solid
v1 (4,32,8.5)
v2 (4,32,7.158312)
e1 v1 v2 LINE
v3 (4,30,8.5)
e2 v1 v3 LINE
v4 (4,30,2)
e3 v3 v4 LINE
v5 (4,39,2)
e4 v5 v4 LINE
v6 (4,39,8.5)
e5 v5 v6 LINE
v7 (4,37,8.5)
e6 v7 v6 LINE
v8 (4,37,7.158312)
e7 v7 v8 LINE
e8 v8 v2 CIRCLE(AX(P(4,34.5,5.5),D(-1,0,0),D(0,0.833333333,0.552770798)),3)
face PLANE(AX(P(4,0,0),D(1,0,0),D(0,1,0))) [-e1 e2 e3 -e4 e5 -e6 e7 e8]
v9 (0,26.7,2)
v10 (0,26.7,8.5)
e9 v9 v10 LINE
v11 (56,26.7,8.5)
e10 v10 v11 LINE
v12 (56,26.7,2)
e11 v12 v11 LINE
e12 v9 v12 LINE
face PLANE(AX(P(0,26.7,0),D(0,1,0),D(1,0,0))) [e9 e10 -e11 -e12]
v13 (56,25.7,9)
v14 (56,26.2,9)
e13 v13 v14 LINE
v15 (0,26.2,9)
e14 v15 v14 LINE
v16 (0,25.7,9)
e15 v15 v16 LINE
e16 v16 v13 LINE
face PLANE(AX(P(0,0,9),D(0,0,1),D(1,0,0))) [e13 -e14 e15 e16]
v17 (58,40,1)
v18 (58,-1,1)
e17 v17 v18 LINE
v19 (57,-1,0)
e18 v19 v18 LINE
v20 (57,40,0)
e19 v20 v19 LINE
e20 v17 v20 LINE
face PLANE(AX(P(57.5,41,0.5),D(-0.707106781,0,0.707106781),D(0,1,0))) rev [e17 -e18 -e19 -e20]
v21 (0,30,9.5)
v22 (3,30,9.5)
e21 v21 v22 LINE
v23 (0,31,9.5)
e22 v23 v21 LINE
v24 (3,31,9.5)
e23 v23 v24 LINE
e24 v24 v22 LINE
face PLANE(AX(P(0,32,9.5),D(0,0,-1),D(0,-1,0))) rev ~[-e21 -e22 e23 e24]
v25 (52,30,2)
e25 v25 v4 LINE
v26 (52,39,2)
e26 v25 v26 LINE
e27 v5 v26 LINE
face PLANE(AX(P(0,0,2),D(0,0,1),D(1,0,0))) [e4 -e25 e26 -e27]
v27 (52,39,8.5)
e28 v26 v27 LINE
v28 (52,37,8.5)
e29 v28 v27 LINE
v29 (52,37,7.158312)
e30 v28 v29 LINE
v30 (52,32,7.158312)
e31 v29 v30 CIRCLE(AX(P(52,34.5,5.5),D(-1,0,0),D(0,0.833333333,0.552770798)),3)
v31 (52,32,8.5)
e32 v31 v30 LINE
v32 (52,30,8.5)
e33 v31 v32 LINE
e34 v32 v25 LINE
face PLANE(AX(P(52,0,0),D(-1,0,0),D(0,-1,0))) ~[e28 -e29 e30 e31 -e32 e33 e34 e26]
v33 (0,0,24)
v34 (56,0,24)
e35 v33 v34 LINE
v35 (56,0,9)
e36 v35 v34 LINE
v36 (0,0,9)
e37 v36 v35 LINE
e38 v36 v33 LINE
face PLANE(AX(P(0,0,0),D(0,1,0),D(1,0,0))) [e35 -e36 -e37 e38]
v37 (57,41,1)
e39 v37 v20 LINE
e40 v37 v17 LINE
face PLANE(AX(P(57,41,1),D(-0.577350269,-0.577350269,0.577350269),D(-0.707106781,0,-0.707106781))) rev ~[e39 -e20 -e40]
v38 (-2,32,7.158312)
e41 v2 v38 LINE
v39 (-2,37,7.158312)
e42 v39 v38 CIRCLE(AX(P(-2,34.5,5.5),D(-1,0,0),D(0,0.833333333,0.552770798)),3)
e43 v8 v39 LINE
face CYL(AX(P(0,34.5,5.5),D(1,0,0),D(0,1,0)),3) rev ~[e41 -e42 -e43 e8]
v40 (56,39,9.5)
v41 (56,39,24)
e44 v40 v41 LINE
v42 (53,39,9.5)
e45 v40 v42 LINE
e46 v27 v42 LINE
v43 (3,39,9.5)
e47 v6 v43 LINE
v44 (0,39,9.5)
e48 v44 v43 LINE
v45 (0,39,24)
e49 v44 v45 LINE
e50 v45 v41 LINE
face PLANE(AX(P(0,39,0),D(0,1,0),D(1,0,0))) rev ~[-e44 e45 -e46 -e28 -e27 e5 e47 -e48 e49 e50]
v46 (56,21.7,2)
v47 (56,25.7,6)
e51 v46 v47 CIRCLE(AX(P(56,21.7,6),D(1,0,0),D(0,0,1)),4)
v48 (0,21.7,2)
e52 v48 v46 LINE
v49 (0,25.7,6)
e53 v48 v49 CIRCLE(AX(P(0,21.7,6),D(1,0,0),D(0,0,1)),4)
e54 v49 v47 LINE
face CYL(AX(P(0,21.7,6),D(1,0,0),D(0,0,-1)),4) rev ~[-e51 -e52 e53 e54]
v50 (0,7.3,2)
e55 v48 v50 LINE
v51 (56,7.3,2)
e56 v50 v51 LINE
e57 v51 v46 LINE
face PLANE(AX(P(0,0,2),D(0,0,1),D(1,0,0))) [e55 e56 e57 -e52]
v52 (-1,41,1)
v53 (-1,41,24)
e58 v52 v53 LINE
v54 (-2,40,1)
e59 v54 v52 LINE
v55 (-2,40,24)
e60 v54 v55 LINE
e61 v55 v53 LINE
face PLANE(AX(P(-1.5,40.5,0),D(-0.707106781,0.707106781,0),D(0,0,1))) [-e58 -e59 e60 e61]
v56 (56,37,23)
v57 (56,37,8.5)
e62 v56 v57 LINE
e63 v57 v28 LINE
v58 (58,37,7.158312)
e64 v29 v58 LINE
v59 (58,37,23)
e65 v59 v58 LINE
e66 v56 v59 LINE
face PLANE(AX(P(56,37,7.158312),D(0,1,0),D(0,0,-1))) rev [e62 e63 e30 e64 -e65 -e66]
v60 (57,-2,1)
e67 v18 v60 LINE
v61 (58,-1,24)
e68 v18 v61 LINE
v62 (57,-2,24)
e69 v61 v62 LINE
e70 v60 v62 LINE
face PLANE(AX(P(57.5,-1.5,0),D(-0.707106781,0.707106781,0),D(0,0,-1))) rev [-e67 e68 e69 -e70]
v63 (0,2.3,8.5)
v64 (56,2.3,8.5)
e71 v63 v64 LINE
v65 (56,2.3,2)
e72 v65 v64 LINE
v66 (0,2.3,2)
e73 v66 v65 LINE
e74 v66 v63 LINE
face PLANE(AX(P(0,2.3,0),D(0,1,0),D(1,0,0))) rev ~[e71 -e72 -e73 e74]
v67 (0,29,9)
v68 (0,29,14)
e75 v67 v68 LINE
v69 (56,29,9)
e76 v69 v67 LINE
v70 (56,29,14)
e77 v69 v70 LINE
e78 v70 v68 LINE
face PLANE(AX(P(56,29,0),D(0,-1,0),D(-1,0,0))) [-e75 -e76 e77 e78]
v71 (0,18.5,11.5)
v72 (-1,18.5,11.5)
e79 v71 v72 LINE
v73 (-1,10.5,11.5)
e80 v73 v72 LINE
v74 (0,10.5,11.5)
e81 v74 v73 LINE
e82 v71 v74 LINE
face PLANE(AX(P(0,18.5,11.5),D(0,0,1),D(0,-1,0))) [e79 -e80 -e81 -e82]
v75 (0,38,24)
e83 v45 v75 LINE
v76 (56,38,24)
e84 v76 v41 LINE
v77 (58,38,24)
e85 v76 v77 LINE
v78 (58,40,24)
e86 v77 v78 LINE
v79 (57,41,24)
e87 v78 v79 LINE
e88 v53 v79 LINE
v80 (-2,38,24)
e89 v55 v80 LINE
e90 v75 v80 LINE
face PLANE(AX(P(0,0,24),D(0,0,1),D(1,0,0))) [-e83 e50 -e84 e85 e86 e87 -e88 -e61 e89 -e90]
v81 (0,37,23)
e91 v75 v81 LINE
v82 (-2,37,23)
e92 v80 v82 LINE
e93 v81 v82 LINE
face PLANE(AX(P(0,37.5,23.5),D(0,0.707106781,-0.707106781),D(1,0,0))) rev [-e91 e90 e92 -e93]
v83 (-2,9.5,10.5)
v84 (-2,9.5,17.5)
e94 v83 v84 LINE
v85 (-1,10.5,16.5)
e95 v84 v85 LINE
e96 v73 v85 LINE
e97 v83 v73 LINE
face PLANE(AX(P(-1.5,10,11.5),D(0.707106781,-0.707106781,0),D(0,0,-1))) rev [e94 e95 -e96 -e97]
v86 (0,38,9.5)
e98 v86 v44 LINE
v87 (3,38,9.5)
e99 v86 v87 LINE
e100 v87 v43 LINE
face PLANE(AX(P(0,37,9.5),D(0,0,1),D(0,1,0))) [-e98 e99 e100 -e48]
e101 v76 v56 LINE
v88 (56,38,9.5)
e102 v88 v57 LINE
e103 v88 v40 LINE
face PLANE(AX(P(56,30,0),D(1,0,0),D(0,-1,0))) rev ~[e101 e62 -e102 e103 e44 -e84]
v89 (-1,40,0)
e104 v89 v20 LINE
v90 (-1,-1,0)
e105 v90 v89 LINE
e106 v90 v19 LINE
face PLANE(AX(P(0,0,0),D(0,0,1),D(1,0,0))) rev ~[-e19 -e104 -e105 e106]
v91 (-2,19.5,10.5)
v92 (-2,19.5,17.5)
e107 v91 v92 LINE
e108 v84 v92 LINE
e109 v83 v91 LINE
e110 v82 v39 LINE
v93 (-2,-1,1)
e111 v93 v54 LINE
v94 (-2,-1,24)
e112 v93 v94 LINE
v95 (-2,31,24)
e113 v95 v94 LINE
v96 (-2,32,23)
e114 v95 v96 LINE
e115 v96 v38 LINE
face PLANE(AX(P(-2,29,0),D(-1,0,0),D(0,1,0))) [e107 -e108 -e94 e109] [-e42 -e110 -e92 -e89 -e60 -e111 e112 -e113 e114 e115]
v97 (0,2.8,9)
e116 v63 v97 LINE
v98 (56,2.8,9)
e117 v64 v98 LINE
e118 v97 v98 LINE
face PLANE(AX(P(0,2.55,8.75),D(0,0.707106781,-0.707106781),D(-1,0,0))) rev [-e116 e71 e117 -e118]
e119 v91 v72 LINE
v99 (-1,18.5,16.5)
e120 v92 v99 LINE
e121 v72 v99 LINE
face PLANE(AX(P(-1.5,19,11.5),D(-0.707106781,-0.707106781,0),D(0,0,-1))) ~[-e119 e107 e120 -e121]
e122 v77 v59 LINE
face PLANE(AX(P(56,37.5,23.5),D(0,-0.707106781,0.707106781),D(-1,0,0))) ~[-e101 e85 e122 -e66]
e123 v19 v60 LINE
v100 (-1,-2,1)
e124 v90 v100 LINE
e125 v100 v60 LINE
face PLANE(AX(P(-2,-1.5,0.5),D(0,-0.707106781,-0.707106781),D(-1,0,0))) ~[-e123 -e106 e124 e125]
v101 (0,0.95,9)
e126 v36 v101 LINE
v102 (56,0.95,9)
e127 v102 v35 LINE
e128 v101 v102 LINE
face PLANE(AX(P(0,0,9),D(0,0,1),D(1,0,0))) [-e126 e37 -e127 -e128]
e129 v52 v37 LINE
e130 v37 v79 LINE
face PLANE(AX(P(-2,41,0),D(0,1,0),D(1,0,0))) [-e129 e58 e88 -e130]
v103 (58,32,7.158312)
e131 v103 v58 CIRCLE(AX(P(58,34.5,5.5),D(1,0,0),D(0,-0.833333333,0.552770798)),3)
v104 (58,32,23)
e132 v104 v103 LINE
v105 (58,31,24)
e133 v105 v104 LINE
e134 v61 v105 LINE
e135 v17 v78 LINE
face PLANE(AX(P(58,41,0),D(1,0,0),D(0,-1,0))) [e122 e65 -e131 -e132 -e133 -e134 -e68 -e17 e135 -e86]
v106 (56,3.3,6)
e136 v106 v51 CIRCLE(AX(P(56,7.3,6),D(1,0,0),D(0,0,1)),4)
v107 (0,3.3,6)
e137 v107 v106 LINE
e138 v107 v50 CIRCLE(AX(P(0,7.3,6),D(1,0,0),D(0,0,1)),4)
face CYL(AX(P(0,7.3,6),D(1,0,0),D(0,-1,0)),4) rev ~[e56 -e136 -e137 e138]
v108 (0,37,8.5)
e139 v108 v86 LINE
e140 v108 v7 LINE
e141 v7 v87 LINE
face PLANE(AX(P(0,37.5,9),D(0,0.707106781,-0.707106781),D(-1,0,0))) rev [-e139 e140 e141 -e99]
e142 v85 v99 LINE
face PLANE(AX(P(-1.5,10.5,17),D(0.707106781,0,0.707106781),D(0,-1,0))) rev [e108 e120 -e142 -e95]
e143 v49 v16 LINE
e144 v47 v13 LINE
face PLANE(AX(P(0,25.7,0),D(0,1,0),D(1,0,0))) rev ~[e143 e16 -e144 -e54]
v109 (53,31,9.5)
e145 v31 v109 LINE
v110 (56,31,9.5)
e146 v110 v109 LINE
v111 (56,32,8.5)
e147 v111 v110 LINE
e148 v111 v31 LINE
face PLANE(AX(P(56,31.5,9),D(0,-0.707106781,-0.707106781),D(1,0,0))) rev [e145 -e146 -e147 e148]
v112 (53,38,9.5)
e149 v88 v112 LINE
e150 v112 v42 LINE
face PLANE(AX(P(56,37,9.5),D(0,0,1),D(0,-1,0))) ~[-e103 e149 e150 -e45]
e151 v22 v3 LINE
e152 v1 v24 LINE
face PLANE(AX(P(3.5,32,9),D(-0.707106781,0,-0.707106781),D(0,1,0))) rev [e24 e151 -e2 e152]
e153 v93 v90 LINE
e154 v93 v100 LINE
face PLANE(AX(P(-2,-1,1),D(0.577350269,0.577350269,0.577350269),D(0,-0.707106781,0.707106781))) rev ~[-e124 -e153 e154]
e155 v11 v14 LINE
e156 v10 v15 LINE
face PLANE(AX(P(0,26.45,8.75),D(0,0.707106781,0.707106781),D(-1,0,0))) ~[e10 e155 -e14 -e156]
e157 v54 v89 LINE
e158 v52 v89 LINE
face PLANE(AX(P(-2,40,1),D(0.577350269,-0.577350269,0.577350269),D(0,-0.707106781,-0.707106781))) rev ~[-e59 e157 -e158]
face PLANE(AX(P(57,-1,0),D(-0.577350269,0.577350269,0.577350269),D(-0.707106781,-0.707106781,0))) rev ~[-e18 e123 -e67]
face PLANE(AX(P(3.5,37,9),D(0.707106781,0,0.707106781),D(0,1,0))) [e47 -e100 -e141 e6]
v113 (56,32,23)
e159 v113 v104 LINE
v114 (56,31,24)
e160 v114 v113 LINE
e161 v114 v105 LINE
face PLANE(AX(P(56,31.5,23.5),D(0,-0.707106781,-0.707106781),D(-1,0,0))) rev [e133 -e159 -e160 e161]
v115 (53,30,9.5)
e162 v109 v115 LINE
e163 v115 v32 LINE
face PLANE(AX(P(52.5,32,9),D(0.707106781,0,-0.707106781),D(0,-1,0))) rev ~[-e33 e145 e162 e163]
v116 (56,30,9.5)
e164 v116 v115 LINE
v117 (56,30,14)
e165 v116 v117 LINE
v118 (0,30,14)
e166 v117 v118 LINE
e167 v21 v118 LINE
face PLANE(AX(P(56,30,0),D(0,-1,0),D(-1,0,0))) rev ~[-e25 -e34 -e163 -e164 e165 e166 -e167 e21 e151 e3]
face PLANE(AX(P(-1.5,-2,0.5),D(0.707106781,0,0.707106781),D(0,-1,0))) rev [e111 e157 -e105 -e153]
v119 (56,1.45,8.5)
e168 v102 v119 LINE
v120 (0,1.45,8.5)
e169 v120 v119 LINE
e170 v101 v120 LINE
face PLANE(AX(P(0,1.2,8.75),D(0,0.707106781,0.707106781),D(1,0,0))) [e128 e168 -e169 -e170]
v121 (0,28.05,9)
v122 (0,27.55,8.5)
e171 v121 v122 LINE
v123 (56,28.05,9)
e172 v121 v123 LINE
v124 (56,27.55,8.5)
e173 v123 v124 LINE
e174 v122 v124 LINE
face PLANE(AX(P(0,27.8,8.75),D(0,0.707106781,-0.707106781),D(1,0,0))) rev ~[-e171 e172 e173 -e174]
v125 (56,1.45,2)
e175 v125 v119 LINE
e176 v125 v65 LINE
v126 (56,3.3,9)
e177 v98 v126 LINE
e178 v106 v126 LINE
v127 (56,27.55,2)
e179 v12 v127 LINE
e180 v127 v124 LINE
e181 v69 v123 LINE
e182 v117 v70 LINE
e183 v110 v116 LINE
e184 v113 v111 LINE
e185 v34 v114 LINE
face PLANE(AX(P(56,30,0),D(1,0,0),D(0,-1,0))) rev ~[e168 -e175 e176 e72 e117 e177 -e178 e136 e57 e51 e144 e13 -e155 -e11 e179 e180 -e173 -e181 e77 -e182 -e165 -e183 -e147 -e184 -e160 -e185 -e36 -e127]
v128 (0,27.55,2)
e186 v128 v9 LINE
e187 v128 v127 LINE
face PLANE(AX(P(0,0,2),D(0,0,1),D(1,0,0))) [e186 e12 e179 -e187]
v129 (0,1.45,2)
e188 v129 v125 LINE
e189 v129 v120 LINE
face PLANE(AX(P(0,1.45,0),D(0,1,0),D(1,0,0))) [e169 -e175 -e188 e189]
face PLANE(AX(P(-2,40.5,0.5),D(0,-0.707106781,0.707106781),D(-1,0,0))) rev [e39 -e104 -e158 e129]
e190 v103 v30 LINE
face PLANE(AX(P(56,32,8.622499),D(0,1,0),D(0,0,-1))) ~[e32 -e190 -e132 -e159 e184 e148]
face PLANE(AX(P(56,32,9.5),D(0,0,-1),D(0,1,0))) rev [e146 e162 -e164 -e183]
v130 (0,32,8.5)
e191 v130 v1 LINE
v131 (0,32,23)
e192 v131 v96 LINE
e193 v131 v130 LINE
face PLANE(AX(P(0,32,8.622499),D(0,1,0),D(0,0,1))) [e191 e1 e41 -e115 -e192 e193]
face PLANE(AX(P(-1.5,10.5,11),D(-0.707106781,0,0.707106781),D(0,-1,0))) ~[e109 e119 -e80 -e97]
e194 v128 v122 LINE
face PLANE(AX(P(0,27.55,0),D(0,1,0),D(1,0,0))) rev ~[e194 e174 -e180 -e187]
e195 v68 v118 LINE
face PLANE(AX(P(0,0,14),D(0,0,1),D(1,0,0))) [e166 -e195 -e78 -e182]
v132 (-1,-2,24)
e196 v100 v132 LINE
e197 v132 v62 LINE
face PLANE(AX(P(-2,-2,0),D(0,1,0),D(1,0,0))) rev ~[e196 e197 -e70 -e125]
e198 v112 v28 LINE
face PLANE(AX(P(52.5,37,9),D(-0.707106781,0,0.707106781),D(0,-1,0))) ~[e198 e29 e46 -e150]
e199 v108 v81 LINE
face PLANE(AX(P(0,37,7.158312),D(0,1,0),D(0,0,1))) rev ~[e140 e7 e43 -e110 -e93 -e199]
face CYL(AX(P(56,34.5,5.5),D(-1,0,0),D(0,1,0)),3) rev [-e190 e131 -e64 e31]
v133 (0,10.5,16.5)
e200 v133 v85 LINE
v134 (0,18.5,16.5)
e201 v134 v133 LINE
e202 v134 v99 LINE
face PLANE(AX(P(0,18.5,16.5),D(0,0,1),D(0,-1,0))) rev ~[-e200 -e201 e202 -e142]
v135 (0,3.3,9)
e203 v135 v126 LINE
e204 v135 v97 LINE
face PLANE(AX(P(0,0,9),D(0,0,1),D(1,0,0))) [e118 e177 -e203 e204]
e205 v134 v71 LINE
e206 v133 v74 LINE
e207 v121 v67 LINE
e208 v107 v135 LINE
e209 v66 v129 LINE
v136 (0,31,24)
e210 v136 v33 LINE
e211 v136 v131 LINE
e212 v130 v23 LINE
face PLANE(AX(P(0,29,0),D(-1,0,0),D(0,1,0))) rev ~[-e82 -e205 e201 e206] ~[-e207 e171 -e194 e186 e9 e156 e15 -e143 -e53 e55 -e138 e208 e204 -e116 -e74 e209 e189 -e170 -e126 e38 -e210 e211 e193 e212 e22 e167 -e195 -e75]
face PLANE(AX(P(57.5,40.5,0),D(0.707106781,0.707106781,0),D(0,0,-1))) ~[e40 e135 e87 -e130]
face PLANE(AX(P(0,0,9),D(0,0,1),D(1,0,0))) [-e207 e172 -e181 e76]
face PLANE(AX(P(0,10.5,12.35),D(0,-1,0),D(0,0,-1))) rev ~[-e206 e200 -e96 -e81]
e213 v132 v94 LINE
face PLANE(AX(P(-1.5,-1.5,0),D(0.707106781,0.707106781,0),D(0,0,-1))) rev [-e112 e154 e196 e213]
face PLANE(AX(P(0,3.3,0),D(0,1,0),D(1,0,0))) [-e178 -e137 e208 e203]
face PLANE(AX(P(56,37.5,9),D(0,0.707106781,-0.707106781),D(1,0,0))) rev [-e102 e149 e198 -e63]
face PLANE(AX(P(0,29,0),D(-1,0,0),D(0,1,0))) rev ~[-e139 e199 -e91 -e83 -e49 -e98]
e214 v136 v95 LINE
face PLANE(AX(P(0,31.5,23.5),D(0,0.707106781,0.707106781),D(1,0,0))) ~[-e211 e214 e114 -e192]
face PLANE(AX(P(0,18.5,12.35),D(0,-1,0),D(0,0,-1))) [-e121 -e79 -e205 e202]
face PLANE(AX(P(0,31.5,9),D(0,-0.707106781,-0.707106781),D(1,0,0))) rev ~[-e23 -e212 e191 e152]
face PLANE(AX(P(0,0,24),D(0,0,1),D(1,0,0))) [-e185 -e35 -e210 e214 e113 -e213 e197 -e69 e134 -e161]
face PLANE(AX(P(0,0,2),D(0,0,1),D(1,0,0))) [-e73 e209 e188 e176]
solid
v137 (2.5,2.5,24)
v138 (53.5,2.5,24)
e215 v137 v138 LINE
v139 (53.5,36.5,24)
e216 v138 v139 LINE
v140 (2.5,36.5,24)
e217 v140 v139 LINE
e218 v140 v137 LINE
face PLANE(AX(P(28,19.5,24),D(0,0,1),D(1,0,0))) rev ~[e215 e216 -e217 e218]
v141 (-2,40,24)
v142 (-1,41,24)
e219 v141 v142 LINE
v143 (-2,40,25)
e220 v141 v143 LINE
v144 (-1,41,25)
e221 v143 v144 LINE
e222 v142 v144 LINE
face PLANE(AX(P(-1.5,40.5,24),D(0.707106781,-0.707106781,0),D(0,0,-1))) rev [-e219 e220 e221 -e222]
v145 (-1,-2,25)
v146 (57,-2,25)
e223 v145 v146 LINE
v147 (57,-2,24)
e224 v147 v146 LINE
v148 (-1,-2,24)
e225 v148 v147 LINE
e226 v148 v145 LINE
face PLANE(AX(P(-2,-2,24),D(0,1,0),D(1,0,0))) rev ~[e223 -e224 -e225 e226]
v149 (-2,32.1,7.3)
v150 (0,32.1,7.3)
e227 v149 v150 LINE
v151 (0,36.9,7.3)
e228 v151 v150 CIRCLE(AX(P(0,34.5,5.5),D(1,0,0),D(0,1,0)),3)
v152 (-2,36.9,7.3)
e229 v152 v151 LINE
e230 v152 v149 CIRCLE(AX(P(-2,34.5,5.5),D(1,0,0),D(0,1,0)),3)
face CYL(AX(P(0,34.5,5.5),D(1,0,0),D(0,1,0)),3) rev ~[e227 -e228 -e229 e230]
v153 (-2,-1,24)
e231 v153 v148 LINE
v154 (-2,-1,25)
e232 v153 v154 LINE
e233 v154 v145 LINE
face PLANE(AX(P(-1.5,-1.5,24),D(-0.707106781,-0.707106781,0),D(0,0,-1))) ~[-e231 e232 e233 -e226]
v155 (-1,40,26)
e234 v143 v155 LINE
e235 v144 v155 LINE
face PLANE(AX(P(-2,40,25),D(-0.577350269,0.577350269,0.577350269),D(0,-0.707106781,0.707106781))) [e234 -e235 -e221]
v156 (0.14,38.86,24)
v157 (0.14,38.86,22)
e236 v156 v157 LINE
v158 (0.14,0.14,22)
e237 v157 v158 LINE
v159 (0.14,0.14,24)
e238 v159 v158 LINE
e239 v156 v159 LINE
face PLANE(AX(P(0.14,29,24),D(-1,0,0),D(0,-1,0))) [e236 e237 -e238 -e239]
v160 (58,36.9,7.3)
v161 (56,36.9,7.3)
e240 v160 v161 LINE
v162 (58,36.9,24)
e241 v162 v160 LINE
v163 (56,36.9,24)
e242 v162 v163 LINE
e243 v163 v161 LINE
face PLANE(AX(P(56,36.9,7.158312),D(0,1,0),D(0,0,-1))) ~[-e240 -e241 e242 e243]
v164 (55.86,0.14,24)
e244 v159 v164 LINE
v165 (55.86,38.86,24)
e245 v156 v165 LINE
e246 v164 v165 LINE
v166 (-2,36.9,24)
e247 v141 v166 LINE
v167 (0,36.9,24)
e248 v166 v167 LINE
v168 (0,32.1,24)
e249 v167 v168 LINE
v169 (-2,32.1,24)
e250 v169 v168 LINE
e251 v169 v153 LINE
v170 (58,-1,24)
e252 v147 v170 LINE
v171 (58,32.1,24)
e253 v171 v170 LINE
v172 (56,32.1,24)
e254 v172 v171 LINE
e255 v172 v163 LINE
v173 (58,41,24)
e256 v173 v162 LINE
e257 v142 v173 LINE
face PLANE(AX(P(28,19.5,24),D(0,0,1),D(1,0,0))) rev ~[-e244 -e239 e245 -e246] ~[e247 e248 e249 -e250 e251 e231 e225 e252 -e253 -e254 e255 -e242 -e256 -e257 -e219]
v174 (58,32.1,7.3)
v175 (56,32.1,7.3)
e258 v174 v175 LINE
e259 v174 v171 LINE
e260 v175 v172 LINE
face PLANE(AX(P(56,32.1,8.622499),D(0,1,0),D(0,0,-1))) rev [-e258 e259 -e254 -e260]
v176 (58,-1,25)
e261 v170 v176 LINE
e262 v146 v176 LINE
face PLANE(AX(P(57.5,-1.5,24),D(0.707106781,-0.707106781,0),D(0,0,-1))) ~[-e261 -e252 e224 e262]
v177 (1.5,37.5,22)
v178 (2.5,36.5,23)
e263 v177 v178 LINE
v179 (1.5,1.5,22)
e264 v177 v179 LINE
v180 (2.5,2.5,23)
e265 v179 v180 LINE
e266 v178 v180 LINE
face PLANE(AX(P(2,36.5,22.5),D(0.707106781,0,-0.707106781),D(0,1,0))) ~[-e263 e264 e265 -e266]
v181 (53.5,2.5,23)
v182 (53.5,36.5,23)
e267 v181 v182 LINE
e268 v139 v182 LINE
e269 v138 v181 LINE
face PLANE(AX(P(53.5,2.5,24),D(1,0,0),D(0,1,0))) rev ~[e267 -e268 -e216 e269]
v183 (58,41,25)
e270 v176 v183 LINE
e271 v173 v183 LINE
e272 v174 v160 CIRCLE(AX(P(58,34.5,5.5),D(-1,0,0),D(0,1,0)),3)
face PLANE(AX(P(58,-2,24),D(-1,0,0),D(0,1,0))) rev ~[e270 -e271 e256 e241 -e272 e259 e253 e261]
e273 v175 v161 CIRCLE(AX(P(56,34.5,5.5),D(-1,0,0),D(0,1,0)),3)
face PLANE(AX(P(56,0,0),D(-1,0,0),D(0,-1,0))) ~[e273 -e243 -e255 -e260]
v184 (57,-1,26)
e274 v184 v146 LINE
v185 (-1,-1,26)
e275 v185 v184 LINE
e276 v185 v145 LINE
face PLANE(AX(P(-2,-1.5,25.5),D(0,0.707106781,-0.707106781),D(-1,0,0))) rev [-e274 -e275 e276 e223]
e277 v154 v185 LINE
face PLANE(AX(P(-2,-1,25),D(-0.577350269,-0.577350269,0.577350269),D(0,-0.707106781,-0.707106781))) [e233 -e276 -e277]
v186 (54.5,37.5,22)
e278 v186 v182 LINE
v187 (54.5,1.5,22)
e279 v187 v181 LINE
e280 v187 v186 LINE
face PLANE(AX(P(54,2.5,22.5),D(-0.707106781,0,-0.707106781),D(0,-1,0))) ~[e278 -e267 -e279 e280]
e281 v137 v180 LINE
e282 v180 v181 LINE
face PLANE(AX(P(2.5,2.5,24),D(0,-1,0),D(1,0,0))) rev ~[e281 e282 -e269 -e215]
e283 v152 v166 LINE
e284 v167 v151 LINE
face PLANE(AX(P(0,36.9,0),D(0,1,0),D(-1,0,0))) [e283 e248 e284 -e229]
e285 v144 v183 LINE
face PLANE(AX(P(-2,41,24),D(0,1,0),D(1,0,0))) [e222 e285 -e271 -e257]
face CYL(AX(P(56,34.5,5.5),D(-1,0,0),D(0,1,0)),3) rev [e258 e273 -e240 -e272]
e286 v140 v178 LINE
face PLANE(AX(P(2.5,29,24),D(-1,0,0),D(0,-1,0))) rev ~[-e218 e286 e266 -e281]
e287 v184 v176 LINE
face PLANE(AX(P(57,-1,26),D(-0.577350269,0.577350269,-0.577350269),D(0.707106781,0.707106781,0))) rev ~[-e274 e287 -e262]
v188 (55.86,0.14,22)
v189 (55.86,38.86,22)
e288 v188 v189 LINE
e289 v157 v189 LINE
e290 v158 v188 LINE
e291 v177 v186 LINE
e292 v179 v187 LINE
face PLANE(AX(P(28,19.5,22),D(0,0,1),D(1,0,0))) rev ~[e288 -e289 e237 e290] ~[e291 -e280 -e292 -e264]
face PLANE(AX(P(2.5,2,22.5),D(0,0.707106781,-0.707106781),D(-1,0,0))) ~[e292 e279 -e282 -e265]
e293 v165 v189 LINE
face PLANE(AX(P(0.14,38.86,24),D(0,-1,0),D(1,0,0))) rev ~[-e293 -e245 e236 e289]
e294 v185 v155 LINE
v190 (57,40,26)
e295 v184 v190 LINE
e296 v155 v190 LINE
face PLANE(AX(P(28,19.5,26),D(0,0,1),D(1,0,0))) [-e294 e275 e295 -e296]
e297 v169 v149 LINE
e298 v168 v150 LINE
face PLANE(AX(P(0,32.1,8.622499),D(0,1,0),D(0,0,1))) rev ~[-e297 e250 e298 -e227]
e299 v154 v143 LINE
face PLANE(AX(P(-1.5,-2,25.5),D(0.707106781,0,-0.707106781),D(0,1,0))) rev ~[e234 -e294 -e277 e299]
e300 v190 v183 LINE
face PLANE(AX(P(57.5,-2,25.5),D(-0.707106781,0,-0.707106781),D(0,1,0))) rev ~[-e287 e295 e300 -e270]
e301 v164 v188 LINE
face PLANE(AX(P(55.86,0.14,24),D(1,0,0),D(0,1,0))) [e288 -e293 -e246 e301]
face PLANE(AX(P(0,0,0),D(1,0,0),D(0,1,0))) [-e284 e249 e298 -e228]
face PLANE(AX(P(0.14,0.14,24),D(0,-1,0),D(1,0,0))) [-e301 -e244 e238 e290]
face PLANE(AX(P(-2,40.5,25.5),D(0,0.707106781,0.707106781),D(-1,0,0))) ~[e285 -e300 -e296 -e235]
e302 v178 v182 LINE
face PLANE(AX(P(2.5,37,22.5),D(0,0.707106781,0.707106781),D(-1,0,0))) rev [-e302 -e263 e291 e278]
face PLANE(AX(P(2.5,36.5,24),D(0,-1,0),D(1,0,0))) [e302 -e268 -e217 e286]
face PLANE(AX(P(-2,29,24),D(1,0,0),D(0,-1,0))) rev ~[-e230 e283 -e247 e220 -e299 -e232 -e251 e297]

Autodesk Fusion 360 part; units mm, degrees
sketch "Sketch1" plane through (0, 0, 0) normal (0, 0, 1) x (1, 0, 0)
  line L0 (0, 0) -> (56, 0)
  line L1 (56, 0) -> (56, 29)
  line L2 (56, 29) -> (0, 29)
  line L3 (0, 29) -> (0, 0)
  line L4 (0, 14.5) -> (56, 14.5) construction
  line L5 (0, 1.45) -> (56, 1.45)
  line L6 (0, 2.3) -> (56, 2.3)
  line L7 (0, 3.3) -> (56, 3.3)
  line L8 (0, 0.45) -> (56, 0.45)
  line L9 (0, 28.55) -> (56, 28.55)
  line L10 (0, 27.55) -> (56, 27.55)
  line L11 (0, 26.7) -> (56, 26.7)
  line L12 (0, 25.7) -> (56, 25.7)
  line L13 (56, 30) -> (0, 30)
  line L14 (56, 29) -> (0, 29)
  line L15 (0, 29) -> (0, 39)
  line L16 (0, 39) -> (56, 39)
  line L17 (56, 39) -> (56, 29)
  line L18 (-2, 29) -> (-2, 41)
  line L19 (-2, 41) -> (58, 41)
  line L20 (58, 41) -> (58, 29)
  line L21 (58, -2) -> (58, 29)
  line L22 (-2, -2) -> (58, -2)
  line L23 (-2, 29) -> (-2, -2)
  line L24 (28, 41) -> (28, -2) construction
  dimension "d1" = 56
  dimension "d2" = 29
  dimension "d3" = 13.05
  dimension "d4" = 12.2
  dimension "d5" = 11.2
  dimension "d6" = 14.05
  dimension "d7" = 1
  dimension "d8" = 10
  dimension "d9" = 2
extrude "Extrude1" add sketch "Sketch1" along normal blind 9 contours L0 L1 L3 L8 | L1 L3 L5 L8 | L1 L3 L6 L7 | L1 L3 L11 L12 | L1 L3 L9 L10 | L1 L2 L3 L9 L14 makes body 1 at (18.6667, 0, 3) makes body 2 at (18.6667, 26.7, 3) makes body 3 at (18.6667, 3.3, 3) makes body 4 at (37.3333, 29, 3)
extrude "Extrude2" add sketch "Sketch1" along normal blind 2 contours L0 L1 L3 L8 | L1 L3 L5 L6 | L1 L3 L7 L12 | L1 L3 L10 L11 | L1 L2 L3 L9 L14 | L13 L15 L16 L17 bodies 1 2 3 4 makes body 5 at (18.6667, 36, 0)
extrude "Extrude3" add sketch "Sketch1" along normal blind 24 bodies 1 5
extrude "Extrude4" add sketch "Sketch1" along normal blind 14 contours L2 L13 L14 L15 L17 bodies 1
ref_plane "WorkPlane1" through (28, 14.5, 12.35) normal (0, 0, 1) x (1, 0, 0)
sketch "Sketch2" plane through (0, 0, 0) normal (1, 0, 0) x (0, 1, 0)
  line L0 (29, 9) -> (29, 14)
  line L1 (29, 14) -> (30, 14)
  line L2 (30, 14) -> (30, 2)
  line L3 (30, 2) -> (39, 2)
  line L4 (39, 2) -> (39, 24)
  line L5 (39, 24) -> (0, 24)
  line L6 (0, 24) -> (0, 9)
  line L7 (0, 9) -> (1.45, 9)
  line L8 (1.45, 9) -> (1.45, 2)
  line L9 (1.45, 2) -> (2.3, 2)
  line L10 (2.3, 2) -> (2.3, 9)
  line L11 (2.3, 9) -> (3.3, 9)
  line L12 (3.3, 9) -> (3.3, 2)
  line L13 (3.3, 2) -> (25.7, 2)
  line L14 (25.7, 2) -> (25.7, 9)
  line L15 (25.7, 9) -> (26.7, 9)
  line L16 (26.7, 9) -> (26.7, 2)
  line L17 (26.7, 2) -> (27.55, 2)
  line L18 (27.55, 2) -> (27.55, 9)
  line L19 (27.55, 9) -> (29, 9)
  line L20 (0, 9) -> (0, 24)
  line L21 (0, 24) -> (39, 24)
  line L22 (29, 9) -> (29, 14)
  line L23 (25.7, 2) -> (3.3, 2)
  line L24 (25.7, 2) -> (25.7, 9)
  line L25 (26.7, 9) -> (25.7, 9)
  line L26 (29, 9) -> (27.55, 9)
  line L27 (1.45, 9) -> (0, 9)
  line L28 (3.3, 9) -> (2.3, 9)
  line L29 (27.94, 12.35) -> (1.06, 12.35)
  line L30 (3.3, 9) -> (25.7, 9) construction
  line L31 (14.5, 9) -> (14.5, 16.9) construction
  line L32 (14.5, 12.35) -> (10.5, 12.35) construction
  line L33 (10.5, 12.35) -> (10.5, 16.5)
  line L34 (10.5, 12.35) -> (10.5, 11.5)
  line L35 (10.5, 16.5) -> (14.5, 16.5)
  line L36 (10.5, 11.5) -> (14.5, 11.5)
  line L37 (18.5, 11.5) -> (14.5, 11.5)
  line L38 (18.5, 12.35) -> (18.5, 16.5)
  line L39 (18.5, 12.35) -> (18.5, 11.5)
  line L40 (18.5, 16.5) -> (14.5, 16.5)
  line L41 (39, 2) -> (39, 24)
  line L42 (30, 14) -> (30, 2)
  line L43 (30, 2) -> (39, 2)
  line L44 (39, 2) -> (39, 24)
  line L45 (39, 24) -> (30, 24)
  line L46 (30, 24) -> (30, 2)
  line L47 (34.5, 2) -> (34.5, 24) construction
  circle A0 centre (34.5, 5.5) radius 3
  line L48 (37, 2) -> (37, 24)
  line L49 (32, 2) -> (32, 24)
  circle A1 centre (34.5, 5.5) radius 4
  line L50 (34.5, 9.5) -> (30, 9.5)
  line L51 (34.5, 9.5) -> (39, 9.5)
  point P0 (34.5, 5.5)
  point P1 (34.5, 9.5)
  dimension "d19" = 4
  dimension "d20" = 4.15
  dimension "d21" = 0.85
  dimension "d24" = 3.5
  dimension "d25" = 6
  dimension "d26" = 2.5
  dimension "d53" = 1
extrude "Extrude5" cut sketch "Sketch2" against normal blind 2 contours L29 L34 L36 L37 L39 | L29 L33 L35 L38 L40 bodies 1
ref_plane "WorkPlane2" through (28, 19.5, 0) normal (-1, 0, 0) x (0, -1, 0)
extrude "Extrude6" cut sketch "Sketch2" against normal blind 2 contours A0 L49 | A0 L48 L49 | A0 L48 bodies 1
extrude "Extrude7" add sketch "Sketch2" against normal blind 2 separate body contours L49 A1 L50 | L5 L21 L45 L48 L49 L50 L51 | A0 L48 L49 A1 | L48 A1 L51 makes body 6
mirror "Mirror1" about plane through (28, 19.5, 0) normal (-1, 0, 0) of "Extrude6"
mirror "Mirror2" about plane through (28, 19.5, 0) normal (-1, 0, 0) of "Extrude7" makes body 7
ref_plane "WorkPlane3" through (28, 19.5, 24) normal (0, 0, 1) x (1, 0, 0)
sketch "Sketch3" plane through (28, 19.5, 24) normal (0, 0, 1) x (1, 0, 0)
  line L0 (-30, -21.5) -> (30, -21.5)
  line L1 (30, -21.5) -> (30, 9.5)
  line L2 (30, 21.5) -> (30, 9.5)
  line L3 (-30, 21.5) -> (30, 21.5)
  line L4 (-28, 19.5) -> (28, 19.5)
  line L5 (28, -19.5) -> (28, 9.5)
  line L6 (28, 19.5) -> (28, 9.5)
  line L7 (-30, 9.5) -> (-30, 21.5)
  line L8 (-28, 9.5) -> (-28, 19.5)
  line L9 (-30, 9.5) -> (-30, -21.5)
  line L10 (-28, 9.5) -> (-28, -19.5)
  line L11 (-28, -19.5) -> (28, -19.5)
  line L12 (-27.86, 9.5) -> (-27.86, 19.36)
  line L13 (-27.86, 19.36) -> (27.86, 19.36)
  line L14 (27.86, 19.36) -> (27.86, 9.5)
  line L15 (27.86, -19.36) -> (27.86, 9.5)
  line L16 (-27.86, -19.36) -> (27.86, -19.36)
  line L17 (-27.86, 9.5) -> (-27.86, -19.36)
  line L18 (-25.5, 9.5) -> (-25.5, 17)
  line L19 (-25.5, 17) -> (25.5, 17)
  line L20 (25.5, 17) -> (25.5, 9.5)
  line L21 (25.5, -17) -> (25.5, 9.5)
  line L22 (-25.5, -17) -> (25.5, -17)
  line L23 (-25.5, 9.5) -> (-25.5, -17)
  dimension "d37" = 0.14
  dimension "d64" = 2.5
extrude "Extrude8" add sketch "Sketch3" against normal blind 2 separate body contours L12 L13 L14 L15 L16 L17 makes body 8
extrude "Extrude9" add sketch "Sketch3" along normal blind 2 contours L0 L1 L2 L3 L7 L9 | L4 L5 L6 L8 L10 L11 | L12 L13 L14 L15 L16 L17 | L18 L19 L20 L21 L22 L23 bodies 8
sketch "Sketch4" plane through (0, 37, 0) normal (0, 1, 0) x (-1, 0, 0)
  line L0 (0, 24) -> (0, 7.1583)
  line L1 (0, 7.1583) -> (2, 7.1583)
  line L2 (2, 7.1583) -> (2, 24)
  line L3 (2, 24) -> (0, 24)
move_face "OffsetFaces1" offset -0.1 1 faces at (-0.6667, 32, 12.7722) on bodies 6
extrude "Extrude10" cut sketch "Sketch4" against normal blind 0.1 bodies 6
move_face "OffsetFaces2" offset -0.1 1 faces at (56.6667, 37, 12.7722) on bodies 7
move_face "OffsetFaces3" offset -0.1 1 faces at (56.6667, 32, 12.7722) on bodies 7
combine "Combine1" operation add target body 8 tool bodies 7 6
extrude "Extrude11" cut sketch "Sketch2" against normal blind 2 contours L49 A1 L50 | L5 L21 L45 L48 L49 L50 L51 | A0 L48 L49 A1 | L48 A1 L51 bodies 1
mirror "Mirror3" about plane through (28, 19.5, 0) normal (-1, 0, 0) of "Extrude11"
chamfer "Chamfer1" distance 1 angle 45 15 edges at (58, -2, 12) (58, 19.5, 0) (28, -2, 0) (58, 41, 12) (28, 41, 0) (-2, 41, 12) (-2, 19.5, 0) (-2, -2, 12) (58, -2, 25) (28, -2, 26) (58, 19.5, 26) (28, 41, 26) (-2, 41, 25) (-2, 19.5, 26) (-2, -2, 25) on bodies 1 8
chamfer "Chamfer2" distance 1 angle 45 4 edges at (-2, 18.5, 14) (-2, 14.5, 16.5) (-2, 14.5, 11.5) (-2, 10.5, 14) on bodies 1
extrude "Extrude12" add sketch "Sketch2" along normal blind 4 contours L2 L3 L42 L43 L46 L49 A1 L50 | L3 L43 L49 A1 | A0 L49 A1 | L3 L43 A0 L48 L49 A1 | L3 L43 A1 | A0 L48 A1 | L3 L4 L41 L43 L44 L48 A1 L51 | L3 L43 L48 A1 bodies 1
chamfer "Chamfer3" distance 1 angle 45 2 edges at (2, 37, 9.5) (2, 32, 9.5) on bodies 1
chamfer "Chamfer3" distance 1 angle 45 2 edges at (4, 38, 9.5) (4, 31, 9.5) on bodies 1
mirror "Mirror4" about plane through (28, 19.5, 0) normal (-1, 0, 0) of "Extrude12", "Chamfer3"
chamfer "Chamfer4" distance 0.5 angle 45 4 edges at (28, 27.55, 9) (28, 26.7, 9) (28, 1.45, 9) (28, 2.3, 9) on bodies 1
fillet "Fillet1" radius 4 2 edges at (28, 25.7, 2) (28, 3.3, 2) on bodies 1
chamfer "Chamfer5" distance 1 angle 45 4 edges at (57, 32, 24) (57, 37, 24) (-1, 37, 24) (-1, 32, 24) on bodies 1
chamfer "Chamfer6" distance 1 angle 45 4 edges at (2.5, 19.5, 22) (28, 2.5, 22) (28, 36.5, 22) (53.5, 19.5, 22) on bodies 8
equation "d3 = ( 26.1 / 2 ) * 1 mm"
equation "d4 = ( 26.1 / 2 ) * 1 mm - 0.7 mm - 0.15 mm"
equation "d5 = ( 26.1 / 2 ) * 1 mm - 0.7 mm - 1 mm - 0.15 mm"
equation "d6 = ( 26.1 / 2 ) * 1 mm + 1 mm"
equation "d10 = 2 mm + 7 mm"
equation "d14 = 2 mm + 20 mm + 2 mm"
equation "d18 = 10.5 mm - 0.15 mm"
equation "d19 = ( 8 / 2 ) * 1 mm"
equation "d26 = ( 5 / 2 ) * 1 mm"
